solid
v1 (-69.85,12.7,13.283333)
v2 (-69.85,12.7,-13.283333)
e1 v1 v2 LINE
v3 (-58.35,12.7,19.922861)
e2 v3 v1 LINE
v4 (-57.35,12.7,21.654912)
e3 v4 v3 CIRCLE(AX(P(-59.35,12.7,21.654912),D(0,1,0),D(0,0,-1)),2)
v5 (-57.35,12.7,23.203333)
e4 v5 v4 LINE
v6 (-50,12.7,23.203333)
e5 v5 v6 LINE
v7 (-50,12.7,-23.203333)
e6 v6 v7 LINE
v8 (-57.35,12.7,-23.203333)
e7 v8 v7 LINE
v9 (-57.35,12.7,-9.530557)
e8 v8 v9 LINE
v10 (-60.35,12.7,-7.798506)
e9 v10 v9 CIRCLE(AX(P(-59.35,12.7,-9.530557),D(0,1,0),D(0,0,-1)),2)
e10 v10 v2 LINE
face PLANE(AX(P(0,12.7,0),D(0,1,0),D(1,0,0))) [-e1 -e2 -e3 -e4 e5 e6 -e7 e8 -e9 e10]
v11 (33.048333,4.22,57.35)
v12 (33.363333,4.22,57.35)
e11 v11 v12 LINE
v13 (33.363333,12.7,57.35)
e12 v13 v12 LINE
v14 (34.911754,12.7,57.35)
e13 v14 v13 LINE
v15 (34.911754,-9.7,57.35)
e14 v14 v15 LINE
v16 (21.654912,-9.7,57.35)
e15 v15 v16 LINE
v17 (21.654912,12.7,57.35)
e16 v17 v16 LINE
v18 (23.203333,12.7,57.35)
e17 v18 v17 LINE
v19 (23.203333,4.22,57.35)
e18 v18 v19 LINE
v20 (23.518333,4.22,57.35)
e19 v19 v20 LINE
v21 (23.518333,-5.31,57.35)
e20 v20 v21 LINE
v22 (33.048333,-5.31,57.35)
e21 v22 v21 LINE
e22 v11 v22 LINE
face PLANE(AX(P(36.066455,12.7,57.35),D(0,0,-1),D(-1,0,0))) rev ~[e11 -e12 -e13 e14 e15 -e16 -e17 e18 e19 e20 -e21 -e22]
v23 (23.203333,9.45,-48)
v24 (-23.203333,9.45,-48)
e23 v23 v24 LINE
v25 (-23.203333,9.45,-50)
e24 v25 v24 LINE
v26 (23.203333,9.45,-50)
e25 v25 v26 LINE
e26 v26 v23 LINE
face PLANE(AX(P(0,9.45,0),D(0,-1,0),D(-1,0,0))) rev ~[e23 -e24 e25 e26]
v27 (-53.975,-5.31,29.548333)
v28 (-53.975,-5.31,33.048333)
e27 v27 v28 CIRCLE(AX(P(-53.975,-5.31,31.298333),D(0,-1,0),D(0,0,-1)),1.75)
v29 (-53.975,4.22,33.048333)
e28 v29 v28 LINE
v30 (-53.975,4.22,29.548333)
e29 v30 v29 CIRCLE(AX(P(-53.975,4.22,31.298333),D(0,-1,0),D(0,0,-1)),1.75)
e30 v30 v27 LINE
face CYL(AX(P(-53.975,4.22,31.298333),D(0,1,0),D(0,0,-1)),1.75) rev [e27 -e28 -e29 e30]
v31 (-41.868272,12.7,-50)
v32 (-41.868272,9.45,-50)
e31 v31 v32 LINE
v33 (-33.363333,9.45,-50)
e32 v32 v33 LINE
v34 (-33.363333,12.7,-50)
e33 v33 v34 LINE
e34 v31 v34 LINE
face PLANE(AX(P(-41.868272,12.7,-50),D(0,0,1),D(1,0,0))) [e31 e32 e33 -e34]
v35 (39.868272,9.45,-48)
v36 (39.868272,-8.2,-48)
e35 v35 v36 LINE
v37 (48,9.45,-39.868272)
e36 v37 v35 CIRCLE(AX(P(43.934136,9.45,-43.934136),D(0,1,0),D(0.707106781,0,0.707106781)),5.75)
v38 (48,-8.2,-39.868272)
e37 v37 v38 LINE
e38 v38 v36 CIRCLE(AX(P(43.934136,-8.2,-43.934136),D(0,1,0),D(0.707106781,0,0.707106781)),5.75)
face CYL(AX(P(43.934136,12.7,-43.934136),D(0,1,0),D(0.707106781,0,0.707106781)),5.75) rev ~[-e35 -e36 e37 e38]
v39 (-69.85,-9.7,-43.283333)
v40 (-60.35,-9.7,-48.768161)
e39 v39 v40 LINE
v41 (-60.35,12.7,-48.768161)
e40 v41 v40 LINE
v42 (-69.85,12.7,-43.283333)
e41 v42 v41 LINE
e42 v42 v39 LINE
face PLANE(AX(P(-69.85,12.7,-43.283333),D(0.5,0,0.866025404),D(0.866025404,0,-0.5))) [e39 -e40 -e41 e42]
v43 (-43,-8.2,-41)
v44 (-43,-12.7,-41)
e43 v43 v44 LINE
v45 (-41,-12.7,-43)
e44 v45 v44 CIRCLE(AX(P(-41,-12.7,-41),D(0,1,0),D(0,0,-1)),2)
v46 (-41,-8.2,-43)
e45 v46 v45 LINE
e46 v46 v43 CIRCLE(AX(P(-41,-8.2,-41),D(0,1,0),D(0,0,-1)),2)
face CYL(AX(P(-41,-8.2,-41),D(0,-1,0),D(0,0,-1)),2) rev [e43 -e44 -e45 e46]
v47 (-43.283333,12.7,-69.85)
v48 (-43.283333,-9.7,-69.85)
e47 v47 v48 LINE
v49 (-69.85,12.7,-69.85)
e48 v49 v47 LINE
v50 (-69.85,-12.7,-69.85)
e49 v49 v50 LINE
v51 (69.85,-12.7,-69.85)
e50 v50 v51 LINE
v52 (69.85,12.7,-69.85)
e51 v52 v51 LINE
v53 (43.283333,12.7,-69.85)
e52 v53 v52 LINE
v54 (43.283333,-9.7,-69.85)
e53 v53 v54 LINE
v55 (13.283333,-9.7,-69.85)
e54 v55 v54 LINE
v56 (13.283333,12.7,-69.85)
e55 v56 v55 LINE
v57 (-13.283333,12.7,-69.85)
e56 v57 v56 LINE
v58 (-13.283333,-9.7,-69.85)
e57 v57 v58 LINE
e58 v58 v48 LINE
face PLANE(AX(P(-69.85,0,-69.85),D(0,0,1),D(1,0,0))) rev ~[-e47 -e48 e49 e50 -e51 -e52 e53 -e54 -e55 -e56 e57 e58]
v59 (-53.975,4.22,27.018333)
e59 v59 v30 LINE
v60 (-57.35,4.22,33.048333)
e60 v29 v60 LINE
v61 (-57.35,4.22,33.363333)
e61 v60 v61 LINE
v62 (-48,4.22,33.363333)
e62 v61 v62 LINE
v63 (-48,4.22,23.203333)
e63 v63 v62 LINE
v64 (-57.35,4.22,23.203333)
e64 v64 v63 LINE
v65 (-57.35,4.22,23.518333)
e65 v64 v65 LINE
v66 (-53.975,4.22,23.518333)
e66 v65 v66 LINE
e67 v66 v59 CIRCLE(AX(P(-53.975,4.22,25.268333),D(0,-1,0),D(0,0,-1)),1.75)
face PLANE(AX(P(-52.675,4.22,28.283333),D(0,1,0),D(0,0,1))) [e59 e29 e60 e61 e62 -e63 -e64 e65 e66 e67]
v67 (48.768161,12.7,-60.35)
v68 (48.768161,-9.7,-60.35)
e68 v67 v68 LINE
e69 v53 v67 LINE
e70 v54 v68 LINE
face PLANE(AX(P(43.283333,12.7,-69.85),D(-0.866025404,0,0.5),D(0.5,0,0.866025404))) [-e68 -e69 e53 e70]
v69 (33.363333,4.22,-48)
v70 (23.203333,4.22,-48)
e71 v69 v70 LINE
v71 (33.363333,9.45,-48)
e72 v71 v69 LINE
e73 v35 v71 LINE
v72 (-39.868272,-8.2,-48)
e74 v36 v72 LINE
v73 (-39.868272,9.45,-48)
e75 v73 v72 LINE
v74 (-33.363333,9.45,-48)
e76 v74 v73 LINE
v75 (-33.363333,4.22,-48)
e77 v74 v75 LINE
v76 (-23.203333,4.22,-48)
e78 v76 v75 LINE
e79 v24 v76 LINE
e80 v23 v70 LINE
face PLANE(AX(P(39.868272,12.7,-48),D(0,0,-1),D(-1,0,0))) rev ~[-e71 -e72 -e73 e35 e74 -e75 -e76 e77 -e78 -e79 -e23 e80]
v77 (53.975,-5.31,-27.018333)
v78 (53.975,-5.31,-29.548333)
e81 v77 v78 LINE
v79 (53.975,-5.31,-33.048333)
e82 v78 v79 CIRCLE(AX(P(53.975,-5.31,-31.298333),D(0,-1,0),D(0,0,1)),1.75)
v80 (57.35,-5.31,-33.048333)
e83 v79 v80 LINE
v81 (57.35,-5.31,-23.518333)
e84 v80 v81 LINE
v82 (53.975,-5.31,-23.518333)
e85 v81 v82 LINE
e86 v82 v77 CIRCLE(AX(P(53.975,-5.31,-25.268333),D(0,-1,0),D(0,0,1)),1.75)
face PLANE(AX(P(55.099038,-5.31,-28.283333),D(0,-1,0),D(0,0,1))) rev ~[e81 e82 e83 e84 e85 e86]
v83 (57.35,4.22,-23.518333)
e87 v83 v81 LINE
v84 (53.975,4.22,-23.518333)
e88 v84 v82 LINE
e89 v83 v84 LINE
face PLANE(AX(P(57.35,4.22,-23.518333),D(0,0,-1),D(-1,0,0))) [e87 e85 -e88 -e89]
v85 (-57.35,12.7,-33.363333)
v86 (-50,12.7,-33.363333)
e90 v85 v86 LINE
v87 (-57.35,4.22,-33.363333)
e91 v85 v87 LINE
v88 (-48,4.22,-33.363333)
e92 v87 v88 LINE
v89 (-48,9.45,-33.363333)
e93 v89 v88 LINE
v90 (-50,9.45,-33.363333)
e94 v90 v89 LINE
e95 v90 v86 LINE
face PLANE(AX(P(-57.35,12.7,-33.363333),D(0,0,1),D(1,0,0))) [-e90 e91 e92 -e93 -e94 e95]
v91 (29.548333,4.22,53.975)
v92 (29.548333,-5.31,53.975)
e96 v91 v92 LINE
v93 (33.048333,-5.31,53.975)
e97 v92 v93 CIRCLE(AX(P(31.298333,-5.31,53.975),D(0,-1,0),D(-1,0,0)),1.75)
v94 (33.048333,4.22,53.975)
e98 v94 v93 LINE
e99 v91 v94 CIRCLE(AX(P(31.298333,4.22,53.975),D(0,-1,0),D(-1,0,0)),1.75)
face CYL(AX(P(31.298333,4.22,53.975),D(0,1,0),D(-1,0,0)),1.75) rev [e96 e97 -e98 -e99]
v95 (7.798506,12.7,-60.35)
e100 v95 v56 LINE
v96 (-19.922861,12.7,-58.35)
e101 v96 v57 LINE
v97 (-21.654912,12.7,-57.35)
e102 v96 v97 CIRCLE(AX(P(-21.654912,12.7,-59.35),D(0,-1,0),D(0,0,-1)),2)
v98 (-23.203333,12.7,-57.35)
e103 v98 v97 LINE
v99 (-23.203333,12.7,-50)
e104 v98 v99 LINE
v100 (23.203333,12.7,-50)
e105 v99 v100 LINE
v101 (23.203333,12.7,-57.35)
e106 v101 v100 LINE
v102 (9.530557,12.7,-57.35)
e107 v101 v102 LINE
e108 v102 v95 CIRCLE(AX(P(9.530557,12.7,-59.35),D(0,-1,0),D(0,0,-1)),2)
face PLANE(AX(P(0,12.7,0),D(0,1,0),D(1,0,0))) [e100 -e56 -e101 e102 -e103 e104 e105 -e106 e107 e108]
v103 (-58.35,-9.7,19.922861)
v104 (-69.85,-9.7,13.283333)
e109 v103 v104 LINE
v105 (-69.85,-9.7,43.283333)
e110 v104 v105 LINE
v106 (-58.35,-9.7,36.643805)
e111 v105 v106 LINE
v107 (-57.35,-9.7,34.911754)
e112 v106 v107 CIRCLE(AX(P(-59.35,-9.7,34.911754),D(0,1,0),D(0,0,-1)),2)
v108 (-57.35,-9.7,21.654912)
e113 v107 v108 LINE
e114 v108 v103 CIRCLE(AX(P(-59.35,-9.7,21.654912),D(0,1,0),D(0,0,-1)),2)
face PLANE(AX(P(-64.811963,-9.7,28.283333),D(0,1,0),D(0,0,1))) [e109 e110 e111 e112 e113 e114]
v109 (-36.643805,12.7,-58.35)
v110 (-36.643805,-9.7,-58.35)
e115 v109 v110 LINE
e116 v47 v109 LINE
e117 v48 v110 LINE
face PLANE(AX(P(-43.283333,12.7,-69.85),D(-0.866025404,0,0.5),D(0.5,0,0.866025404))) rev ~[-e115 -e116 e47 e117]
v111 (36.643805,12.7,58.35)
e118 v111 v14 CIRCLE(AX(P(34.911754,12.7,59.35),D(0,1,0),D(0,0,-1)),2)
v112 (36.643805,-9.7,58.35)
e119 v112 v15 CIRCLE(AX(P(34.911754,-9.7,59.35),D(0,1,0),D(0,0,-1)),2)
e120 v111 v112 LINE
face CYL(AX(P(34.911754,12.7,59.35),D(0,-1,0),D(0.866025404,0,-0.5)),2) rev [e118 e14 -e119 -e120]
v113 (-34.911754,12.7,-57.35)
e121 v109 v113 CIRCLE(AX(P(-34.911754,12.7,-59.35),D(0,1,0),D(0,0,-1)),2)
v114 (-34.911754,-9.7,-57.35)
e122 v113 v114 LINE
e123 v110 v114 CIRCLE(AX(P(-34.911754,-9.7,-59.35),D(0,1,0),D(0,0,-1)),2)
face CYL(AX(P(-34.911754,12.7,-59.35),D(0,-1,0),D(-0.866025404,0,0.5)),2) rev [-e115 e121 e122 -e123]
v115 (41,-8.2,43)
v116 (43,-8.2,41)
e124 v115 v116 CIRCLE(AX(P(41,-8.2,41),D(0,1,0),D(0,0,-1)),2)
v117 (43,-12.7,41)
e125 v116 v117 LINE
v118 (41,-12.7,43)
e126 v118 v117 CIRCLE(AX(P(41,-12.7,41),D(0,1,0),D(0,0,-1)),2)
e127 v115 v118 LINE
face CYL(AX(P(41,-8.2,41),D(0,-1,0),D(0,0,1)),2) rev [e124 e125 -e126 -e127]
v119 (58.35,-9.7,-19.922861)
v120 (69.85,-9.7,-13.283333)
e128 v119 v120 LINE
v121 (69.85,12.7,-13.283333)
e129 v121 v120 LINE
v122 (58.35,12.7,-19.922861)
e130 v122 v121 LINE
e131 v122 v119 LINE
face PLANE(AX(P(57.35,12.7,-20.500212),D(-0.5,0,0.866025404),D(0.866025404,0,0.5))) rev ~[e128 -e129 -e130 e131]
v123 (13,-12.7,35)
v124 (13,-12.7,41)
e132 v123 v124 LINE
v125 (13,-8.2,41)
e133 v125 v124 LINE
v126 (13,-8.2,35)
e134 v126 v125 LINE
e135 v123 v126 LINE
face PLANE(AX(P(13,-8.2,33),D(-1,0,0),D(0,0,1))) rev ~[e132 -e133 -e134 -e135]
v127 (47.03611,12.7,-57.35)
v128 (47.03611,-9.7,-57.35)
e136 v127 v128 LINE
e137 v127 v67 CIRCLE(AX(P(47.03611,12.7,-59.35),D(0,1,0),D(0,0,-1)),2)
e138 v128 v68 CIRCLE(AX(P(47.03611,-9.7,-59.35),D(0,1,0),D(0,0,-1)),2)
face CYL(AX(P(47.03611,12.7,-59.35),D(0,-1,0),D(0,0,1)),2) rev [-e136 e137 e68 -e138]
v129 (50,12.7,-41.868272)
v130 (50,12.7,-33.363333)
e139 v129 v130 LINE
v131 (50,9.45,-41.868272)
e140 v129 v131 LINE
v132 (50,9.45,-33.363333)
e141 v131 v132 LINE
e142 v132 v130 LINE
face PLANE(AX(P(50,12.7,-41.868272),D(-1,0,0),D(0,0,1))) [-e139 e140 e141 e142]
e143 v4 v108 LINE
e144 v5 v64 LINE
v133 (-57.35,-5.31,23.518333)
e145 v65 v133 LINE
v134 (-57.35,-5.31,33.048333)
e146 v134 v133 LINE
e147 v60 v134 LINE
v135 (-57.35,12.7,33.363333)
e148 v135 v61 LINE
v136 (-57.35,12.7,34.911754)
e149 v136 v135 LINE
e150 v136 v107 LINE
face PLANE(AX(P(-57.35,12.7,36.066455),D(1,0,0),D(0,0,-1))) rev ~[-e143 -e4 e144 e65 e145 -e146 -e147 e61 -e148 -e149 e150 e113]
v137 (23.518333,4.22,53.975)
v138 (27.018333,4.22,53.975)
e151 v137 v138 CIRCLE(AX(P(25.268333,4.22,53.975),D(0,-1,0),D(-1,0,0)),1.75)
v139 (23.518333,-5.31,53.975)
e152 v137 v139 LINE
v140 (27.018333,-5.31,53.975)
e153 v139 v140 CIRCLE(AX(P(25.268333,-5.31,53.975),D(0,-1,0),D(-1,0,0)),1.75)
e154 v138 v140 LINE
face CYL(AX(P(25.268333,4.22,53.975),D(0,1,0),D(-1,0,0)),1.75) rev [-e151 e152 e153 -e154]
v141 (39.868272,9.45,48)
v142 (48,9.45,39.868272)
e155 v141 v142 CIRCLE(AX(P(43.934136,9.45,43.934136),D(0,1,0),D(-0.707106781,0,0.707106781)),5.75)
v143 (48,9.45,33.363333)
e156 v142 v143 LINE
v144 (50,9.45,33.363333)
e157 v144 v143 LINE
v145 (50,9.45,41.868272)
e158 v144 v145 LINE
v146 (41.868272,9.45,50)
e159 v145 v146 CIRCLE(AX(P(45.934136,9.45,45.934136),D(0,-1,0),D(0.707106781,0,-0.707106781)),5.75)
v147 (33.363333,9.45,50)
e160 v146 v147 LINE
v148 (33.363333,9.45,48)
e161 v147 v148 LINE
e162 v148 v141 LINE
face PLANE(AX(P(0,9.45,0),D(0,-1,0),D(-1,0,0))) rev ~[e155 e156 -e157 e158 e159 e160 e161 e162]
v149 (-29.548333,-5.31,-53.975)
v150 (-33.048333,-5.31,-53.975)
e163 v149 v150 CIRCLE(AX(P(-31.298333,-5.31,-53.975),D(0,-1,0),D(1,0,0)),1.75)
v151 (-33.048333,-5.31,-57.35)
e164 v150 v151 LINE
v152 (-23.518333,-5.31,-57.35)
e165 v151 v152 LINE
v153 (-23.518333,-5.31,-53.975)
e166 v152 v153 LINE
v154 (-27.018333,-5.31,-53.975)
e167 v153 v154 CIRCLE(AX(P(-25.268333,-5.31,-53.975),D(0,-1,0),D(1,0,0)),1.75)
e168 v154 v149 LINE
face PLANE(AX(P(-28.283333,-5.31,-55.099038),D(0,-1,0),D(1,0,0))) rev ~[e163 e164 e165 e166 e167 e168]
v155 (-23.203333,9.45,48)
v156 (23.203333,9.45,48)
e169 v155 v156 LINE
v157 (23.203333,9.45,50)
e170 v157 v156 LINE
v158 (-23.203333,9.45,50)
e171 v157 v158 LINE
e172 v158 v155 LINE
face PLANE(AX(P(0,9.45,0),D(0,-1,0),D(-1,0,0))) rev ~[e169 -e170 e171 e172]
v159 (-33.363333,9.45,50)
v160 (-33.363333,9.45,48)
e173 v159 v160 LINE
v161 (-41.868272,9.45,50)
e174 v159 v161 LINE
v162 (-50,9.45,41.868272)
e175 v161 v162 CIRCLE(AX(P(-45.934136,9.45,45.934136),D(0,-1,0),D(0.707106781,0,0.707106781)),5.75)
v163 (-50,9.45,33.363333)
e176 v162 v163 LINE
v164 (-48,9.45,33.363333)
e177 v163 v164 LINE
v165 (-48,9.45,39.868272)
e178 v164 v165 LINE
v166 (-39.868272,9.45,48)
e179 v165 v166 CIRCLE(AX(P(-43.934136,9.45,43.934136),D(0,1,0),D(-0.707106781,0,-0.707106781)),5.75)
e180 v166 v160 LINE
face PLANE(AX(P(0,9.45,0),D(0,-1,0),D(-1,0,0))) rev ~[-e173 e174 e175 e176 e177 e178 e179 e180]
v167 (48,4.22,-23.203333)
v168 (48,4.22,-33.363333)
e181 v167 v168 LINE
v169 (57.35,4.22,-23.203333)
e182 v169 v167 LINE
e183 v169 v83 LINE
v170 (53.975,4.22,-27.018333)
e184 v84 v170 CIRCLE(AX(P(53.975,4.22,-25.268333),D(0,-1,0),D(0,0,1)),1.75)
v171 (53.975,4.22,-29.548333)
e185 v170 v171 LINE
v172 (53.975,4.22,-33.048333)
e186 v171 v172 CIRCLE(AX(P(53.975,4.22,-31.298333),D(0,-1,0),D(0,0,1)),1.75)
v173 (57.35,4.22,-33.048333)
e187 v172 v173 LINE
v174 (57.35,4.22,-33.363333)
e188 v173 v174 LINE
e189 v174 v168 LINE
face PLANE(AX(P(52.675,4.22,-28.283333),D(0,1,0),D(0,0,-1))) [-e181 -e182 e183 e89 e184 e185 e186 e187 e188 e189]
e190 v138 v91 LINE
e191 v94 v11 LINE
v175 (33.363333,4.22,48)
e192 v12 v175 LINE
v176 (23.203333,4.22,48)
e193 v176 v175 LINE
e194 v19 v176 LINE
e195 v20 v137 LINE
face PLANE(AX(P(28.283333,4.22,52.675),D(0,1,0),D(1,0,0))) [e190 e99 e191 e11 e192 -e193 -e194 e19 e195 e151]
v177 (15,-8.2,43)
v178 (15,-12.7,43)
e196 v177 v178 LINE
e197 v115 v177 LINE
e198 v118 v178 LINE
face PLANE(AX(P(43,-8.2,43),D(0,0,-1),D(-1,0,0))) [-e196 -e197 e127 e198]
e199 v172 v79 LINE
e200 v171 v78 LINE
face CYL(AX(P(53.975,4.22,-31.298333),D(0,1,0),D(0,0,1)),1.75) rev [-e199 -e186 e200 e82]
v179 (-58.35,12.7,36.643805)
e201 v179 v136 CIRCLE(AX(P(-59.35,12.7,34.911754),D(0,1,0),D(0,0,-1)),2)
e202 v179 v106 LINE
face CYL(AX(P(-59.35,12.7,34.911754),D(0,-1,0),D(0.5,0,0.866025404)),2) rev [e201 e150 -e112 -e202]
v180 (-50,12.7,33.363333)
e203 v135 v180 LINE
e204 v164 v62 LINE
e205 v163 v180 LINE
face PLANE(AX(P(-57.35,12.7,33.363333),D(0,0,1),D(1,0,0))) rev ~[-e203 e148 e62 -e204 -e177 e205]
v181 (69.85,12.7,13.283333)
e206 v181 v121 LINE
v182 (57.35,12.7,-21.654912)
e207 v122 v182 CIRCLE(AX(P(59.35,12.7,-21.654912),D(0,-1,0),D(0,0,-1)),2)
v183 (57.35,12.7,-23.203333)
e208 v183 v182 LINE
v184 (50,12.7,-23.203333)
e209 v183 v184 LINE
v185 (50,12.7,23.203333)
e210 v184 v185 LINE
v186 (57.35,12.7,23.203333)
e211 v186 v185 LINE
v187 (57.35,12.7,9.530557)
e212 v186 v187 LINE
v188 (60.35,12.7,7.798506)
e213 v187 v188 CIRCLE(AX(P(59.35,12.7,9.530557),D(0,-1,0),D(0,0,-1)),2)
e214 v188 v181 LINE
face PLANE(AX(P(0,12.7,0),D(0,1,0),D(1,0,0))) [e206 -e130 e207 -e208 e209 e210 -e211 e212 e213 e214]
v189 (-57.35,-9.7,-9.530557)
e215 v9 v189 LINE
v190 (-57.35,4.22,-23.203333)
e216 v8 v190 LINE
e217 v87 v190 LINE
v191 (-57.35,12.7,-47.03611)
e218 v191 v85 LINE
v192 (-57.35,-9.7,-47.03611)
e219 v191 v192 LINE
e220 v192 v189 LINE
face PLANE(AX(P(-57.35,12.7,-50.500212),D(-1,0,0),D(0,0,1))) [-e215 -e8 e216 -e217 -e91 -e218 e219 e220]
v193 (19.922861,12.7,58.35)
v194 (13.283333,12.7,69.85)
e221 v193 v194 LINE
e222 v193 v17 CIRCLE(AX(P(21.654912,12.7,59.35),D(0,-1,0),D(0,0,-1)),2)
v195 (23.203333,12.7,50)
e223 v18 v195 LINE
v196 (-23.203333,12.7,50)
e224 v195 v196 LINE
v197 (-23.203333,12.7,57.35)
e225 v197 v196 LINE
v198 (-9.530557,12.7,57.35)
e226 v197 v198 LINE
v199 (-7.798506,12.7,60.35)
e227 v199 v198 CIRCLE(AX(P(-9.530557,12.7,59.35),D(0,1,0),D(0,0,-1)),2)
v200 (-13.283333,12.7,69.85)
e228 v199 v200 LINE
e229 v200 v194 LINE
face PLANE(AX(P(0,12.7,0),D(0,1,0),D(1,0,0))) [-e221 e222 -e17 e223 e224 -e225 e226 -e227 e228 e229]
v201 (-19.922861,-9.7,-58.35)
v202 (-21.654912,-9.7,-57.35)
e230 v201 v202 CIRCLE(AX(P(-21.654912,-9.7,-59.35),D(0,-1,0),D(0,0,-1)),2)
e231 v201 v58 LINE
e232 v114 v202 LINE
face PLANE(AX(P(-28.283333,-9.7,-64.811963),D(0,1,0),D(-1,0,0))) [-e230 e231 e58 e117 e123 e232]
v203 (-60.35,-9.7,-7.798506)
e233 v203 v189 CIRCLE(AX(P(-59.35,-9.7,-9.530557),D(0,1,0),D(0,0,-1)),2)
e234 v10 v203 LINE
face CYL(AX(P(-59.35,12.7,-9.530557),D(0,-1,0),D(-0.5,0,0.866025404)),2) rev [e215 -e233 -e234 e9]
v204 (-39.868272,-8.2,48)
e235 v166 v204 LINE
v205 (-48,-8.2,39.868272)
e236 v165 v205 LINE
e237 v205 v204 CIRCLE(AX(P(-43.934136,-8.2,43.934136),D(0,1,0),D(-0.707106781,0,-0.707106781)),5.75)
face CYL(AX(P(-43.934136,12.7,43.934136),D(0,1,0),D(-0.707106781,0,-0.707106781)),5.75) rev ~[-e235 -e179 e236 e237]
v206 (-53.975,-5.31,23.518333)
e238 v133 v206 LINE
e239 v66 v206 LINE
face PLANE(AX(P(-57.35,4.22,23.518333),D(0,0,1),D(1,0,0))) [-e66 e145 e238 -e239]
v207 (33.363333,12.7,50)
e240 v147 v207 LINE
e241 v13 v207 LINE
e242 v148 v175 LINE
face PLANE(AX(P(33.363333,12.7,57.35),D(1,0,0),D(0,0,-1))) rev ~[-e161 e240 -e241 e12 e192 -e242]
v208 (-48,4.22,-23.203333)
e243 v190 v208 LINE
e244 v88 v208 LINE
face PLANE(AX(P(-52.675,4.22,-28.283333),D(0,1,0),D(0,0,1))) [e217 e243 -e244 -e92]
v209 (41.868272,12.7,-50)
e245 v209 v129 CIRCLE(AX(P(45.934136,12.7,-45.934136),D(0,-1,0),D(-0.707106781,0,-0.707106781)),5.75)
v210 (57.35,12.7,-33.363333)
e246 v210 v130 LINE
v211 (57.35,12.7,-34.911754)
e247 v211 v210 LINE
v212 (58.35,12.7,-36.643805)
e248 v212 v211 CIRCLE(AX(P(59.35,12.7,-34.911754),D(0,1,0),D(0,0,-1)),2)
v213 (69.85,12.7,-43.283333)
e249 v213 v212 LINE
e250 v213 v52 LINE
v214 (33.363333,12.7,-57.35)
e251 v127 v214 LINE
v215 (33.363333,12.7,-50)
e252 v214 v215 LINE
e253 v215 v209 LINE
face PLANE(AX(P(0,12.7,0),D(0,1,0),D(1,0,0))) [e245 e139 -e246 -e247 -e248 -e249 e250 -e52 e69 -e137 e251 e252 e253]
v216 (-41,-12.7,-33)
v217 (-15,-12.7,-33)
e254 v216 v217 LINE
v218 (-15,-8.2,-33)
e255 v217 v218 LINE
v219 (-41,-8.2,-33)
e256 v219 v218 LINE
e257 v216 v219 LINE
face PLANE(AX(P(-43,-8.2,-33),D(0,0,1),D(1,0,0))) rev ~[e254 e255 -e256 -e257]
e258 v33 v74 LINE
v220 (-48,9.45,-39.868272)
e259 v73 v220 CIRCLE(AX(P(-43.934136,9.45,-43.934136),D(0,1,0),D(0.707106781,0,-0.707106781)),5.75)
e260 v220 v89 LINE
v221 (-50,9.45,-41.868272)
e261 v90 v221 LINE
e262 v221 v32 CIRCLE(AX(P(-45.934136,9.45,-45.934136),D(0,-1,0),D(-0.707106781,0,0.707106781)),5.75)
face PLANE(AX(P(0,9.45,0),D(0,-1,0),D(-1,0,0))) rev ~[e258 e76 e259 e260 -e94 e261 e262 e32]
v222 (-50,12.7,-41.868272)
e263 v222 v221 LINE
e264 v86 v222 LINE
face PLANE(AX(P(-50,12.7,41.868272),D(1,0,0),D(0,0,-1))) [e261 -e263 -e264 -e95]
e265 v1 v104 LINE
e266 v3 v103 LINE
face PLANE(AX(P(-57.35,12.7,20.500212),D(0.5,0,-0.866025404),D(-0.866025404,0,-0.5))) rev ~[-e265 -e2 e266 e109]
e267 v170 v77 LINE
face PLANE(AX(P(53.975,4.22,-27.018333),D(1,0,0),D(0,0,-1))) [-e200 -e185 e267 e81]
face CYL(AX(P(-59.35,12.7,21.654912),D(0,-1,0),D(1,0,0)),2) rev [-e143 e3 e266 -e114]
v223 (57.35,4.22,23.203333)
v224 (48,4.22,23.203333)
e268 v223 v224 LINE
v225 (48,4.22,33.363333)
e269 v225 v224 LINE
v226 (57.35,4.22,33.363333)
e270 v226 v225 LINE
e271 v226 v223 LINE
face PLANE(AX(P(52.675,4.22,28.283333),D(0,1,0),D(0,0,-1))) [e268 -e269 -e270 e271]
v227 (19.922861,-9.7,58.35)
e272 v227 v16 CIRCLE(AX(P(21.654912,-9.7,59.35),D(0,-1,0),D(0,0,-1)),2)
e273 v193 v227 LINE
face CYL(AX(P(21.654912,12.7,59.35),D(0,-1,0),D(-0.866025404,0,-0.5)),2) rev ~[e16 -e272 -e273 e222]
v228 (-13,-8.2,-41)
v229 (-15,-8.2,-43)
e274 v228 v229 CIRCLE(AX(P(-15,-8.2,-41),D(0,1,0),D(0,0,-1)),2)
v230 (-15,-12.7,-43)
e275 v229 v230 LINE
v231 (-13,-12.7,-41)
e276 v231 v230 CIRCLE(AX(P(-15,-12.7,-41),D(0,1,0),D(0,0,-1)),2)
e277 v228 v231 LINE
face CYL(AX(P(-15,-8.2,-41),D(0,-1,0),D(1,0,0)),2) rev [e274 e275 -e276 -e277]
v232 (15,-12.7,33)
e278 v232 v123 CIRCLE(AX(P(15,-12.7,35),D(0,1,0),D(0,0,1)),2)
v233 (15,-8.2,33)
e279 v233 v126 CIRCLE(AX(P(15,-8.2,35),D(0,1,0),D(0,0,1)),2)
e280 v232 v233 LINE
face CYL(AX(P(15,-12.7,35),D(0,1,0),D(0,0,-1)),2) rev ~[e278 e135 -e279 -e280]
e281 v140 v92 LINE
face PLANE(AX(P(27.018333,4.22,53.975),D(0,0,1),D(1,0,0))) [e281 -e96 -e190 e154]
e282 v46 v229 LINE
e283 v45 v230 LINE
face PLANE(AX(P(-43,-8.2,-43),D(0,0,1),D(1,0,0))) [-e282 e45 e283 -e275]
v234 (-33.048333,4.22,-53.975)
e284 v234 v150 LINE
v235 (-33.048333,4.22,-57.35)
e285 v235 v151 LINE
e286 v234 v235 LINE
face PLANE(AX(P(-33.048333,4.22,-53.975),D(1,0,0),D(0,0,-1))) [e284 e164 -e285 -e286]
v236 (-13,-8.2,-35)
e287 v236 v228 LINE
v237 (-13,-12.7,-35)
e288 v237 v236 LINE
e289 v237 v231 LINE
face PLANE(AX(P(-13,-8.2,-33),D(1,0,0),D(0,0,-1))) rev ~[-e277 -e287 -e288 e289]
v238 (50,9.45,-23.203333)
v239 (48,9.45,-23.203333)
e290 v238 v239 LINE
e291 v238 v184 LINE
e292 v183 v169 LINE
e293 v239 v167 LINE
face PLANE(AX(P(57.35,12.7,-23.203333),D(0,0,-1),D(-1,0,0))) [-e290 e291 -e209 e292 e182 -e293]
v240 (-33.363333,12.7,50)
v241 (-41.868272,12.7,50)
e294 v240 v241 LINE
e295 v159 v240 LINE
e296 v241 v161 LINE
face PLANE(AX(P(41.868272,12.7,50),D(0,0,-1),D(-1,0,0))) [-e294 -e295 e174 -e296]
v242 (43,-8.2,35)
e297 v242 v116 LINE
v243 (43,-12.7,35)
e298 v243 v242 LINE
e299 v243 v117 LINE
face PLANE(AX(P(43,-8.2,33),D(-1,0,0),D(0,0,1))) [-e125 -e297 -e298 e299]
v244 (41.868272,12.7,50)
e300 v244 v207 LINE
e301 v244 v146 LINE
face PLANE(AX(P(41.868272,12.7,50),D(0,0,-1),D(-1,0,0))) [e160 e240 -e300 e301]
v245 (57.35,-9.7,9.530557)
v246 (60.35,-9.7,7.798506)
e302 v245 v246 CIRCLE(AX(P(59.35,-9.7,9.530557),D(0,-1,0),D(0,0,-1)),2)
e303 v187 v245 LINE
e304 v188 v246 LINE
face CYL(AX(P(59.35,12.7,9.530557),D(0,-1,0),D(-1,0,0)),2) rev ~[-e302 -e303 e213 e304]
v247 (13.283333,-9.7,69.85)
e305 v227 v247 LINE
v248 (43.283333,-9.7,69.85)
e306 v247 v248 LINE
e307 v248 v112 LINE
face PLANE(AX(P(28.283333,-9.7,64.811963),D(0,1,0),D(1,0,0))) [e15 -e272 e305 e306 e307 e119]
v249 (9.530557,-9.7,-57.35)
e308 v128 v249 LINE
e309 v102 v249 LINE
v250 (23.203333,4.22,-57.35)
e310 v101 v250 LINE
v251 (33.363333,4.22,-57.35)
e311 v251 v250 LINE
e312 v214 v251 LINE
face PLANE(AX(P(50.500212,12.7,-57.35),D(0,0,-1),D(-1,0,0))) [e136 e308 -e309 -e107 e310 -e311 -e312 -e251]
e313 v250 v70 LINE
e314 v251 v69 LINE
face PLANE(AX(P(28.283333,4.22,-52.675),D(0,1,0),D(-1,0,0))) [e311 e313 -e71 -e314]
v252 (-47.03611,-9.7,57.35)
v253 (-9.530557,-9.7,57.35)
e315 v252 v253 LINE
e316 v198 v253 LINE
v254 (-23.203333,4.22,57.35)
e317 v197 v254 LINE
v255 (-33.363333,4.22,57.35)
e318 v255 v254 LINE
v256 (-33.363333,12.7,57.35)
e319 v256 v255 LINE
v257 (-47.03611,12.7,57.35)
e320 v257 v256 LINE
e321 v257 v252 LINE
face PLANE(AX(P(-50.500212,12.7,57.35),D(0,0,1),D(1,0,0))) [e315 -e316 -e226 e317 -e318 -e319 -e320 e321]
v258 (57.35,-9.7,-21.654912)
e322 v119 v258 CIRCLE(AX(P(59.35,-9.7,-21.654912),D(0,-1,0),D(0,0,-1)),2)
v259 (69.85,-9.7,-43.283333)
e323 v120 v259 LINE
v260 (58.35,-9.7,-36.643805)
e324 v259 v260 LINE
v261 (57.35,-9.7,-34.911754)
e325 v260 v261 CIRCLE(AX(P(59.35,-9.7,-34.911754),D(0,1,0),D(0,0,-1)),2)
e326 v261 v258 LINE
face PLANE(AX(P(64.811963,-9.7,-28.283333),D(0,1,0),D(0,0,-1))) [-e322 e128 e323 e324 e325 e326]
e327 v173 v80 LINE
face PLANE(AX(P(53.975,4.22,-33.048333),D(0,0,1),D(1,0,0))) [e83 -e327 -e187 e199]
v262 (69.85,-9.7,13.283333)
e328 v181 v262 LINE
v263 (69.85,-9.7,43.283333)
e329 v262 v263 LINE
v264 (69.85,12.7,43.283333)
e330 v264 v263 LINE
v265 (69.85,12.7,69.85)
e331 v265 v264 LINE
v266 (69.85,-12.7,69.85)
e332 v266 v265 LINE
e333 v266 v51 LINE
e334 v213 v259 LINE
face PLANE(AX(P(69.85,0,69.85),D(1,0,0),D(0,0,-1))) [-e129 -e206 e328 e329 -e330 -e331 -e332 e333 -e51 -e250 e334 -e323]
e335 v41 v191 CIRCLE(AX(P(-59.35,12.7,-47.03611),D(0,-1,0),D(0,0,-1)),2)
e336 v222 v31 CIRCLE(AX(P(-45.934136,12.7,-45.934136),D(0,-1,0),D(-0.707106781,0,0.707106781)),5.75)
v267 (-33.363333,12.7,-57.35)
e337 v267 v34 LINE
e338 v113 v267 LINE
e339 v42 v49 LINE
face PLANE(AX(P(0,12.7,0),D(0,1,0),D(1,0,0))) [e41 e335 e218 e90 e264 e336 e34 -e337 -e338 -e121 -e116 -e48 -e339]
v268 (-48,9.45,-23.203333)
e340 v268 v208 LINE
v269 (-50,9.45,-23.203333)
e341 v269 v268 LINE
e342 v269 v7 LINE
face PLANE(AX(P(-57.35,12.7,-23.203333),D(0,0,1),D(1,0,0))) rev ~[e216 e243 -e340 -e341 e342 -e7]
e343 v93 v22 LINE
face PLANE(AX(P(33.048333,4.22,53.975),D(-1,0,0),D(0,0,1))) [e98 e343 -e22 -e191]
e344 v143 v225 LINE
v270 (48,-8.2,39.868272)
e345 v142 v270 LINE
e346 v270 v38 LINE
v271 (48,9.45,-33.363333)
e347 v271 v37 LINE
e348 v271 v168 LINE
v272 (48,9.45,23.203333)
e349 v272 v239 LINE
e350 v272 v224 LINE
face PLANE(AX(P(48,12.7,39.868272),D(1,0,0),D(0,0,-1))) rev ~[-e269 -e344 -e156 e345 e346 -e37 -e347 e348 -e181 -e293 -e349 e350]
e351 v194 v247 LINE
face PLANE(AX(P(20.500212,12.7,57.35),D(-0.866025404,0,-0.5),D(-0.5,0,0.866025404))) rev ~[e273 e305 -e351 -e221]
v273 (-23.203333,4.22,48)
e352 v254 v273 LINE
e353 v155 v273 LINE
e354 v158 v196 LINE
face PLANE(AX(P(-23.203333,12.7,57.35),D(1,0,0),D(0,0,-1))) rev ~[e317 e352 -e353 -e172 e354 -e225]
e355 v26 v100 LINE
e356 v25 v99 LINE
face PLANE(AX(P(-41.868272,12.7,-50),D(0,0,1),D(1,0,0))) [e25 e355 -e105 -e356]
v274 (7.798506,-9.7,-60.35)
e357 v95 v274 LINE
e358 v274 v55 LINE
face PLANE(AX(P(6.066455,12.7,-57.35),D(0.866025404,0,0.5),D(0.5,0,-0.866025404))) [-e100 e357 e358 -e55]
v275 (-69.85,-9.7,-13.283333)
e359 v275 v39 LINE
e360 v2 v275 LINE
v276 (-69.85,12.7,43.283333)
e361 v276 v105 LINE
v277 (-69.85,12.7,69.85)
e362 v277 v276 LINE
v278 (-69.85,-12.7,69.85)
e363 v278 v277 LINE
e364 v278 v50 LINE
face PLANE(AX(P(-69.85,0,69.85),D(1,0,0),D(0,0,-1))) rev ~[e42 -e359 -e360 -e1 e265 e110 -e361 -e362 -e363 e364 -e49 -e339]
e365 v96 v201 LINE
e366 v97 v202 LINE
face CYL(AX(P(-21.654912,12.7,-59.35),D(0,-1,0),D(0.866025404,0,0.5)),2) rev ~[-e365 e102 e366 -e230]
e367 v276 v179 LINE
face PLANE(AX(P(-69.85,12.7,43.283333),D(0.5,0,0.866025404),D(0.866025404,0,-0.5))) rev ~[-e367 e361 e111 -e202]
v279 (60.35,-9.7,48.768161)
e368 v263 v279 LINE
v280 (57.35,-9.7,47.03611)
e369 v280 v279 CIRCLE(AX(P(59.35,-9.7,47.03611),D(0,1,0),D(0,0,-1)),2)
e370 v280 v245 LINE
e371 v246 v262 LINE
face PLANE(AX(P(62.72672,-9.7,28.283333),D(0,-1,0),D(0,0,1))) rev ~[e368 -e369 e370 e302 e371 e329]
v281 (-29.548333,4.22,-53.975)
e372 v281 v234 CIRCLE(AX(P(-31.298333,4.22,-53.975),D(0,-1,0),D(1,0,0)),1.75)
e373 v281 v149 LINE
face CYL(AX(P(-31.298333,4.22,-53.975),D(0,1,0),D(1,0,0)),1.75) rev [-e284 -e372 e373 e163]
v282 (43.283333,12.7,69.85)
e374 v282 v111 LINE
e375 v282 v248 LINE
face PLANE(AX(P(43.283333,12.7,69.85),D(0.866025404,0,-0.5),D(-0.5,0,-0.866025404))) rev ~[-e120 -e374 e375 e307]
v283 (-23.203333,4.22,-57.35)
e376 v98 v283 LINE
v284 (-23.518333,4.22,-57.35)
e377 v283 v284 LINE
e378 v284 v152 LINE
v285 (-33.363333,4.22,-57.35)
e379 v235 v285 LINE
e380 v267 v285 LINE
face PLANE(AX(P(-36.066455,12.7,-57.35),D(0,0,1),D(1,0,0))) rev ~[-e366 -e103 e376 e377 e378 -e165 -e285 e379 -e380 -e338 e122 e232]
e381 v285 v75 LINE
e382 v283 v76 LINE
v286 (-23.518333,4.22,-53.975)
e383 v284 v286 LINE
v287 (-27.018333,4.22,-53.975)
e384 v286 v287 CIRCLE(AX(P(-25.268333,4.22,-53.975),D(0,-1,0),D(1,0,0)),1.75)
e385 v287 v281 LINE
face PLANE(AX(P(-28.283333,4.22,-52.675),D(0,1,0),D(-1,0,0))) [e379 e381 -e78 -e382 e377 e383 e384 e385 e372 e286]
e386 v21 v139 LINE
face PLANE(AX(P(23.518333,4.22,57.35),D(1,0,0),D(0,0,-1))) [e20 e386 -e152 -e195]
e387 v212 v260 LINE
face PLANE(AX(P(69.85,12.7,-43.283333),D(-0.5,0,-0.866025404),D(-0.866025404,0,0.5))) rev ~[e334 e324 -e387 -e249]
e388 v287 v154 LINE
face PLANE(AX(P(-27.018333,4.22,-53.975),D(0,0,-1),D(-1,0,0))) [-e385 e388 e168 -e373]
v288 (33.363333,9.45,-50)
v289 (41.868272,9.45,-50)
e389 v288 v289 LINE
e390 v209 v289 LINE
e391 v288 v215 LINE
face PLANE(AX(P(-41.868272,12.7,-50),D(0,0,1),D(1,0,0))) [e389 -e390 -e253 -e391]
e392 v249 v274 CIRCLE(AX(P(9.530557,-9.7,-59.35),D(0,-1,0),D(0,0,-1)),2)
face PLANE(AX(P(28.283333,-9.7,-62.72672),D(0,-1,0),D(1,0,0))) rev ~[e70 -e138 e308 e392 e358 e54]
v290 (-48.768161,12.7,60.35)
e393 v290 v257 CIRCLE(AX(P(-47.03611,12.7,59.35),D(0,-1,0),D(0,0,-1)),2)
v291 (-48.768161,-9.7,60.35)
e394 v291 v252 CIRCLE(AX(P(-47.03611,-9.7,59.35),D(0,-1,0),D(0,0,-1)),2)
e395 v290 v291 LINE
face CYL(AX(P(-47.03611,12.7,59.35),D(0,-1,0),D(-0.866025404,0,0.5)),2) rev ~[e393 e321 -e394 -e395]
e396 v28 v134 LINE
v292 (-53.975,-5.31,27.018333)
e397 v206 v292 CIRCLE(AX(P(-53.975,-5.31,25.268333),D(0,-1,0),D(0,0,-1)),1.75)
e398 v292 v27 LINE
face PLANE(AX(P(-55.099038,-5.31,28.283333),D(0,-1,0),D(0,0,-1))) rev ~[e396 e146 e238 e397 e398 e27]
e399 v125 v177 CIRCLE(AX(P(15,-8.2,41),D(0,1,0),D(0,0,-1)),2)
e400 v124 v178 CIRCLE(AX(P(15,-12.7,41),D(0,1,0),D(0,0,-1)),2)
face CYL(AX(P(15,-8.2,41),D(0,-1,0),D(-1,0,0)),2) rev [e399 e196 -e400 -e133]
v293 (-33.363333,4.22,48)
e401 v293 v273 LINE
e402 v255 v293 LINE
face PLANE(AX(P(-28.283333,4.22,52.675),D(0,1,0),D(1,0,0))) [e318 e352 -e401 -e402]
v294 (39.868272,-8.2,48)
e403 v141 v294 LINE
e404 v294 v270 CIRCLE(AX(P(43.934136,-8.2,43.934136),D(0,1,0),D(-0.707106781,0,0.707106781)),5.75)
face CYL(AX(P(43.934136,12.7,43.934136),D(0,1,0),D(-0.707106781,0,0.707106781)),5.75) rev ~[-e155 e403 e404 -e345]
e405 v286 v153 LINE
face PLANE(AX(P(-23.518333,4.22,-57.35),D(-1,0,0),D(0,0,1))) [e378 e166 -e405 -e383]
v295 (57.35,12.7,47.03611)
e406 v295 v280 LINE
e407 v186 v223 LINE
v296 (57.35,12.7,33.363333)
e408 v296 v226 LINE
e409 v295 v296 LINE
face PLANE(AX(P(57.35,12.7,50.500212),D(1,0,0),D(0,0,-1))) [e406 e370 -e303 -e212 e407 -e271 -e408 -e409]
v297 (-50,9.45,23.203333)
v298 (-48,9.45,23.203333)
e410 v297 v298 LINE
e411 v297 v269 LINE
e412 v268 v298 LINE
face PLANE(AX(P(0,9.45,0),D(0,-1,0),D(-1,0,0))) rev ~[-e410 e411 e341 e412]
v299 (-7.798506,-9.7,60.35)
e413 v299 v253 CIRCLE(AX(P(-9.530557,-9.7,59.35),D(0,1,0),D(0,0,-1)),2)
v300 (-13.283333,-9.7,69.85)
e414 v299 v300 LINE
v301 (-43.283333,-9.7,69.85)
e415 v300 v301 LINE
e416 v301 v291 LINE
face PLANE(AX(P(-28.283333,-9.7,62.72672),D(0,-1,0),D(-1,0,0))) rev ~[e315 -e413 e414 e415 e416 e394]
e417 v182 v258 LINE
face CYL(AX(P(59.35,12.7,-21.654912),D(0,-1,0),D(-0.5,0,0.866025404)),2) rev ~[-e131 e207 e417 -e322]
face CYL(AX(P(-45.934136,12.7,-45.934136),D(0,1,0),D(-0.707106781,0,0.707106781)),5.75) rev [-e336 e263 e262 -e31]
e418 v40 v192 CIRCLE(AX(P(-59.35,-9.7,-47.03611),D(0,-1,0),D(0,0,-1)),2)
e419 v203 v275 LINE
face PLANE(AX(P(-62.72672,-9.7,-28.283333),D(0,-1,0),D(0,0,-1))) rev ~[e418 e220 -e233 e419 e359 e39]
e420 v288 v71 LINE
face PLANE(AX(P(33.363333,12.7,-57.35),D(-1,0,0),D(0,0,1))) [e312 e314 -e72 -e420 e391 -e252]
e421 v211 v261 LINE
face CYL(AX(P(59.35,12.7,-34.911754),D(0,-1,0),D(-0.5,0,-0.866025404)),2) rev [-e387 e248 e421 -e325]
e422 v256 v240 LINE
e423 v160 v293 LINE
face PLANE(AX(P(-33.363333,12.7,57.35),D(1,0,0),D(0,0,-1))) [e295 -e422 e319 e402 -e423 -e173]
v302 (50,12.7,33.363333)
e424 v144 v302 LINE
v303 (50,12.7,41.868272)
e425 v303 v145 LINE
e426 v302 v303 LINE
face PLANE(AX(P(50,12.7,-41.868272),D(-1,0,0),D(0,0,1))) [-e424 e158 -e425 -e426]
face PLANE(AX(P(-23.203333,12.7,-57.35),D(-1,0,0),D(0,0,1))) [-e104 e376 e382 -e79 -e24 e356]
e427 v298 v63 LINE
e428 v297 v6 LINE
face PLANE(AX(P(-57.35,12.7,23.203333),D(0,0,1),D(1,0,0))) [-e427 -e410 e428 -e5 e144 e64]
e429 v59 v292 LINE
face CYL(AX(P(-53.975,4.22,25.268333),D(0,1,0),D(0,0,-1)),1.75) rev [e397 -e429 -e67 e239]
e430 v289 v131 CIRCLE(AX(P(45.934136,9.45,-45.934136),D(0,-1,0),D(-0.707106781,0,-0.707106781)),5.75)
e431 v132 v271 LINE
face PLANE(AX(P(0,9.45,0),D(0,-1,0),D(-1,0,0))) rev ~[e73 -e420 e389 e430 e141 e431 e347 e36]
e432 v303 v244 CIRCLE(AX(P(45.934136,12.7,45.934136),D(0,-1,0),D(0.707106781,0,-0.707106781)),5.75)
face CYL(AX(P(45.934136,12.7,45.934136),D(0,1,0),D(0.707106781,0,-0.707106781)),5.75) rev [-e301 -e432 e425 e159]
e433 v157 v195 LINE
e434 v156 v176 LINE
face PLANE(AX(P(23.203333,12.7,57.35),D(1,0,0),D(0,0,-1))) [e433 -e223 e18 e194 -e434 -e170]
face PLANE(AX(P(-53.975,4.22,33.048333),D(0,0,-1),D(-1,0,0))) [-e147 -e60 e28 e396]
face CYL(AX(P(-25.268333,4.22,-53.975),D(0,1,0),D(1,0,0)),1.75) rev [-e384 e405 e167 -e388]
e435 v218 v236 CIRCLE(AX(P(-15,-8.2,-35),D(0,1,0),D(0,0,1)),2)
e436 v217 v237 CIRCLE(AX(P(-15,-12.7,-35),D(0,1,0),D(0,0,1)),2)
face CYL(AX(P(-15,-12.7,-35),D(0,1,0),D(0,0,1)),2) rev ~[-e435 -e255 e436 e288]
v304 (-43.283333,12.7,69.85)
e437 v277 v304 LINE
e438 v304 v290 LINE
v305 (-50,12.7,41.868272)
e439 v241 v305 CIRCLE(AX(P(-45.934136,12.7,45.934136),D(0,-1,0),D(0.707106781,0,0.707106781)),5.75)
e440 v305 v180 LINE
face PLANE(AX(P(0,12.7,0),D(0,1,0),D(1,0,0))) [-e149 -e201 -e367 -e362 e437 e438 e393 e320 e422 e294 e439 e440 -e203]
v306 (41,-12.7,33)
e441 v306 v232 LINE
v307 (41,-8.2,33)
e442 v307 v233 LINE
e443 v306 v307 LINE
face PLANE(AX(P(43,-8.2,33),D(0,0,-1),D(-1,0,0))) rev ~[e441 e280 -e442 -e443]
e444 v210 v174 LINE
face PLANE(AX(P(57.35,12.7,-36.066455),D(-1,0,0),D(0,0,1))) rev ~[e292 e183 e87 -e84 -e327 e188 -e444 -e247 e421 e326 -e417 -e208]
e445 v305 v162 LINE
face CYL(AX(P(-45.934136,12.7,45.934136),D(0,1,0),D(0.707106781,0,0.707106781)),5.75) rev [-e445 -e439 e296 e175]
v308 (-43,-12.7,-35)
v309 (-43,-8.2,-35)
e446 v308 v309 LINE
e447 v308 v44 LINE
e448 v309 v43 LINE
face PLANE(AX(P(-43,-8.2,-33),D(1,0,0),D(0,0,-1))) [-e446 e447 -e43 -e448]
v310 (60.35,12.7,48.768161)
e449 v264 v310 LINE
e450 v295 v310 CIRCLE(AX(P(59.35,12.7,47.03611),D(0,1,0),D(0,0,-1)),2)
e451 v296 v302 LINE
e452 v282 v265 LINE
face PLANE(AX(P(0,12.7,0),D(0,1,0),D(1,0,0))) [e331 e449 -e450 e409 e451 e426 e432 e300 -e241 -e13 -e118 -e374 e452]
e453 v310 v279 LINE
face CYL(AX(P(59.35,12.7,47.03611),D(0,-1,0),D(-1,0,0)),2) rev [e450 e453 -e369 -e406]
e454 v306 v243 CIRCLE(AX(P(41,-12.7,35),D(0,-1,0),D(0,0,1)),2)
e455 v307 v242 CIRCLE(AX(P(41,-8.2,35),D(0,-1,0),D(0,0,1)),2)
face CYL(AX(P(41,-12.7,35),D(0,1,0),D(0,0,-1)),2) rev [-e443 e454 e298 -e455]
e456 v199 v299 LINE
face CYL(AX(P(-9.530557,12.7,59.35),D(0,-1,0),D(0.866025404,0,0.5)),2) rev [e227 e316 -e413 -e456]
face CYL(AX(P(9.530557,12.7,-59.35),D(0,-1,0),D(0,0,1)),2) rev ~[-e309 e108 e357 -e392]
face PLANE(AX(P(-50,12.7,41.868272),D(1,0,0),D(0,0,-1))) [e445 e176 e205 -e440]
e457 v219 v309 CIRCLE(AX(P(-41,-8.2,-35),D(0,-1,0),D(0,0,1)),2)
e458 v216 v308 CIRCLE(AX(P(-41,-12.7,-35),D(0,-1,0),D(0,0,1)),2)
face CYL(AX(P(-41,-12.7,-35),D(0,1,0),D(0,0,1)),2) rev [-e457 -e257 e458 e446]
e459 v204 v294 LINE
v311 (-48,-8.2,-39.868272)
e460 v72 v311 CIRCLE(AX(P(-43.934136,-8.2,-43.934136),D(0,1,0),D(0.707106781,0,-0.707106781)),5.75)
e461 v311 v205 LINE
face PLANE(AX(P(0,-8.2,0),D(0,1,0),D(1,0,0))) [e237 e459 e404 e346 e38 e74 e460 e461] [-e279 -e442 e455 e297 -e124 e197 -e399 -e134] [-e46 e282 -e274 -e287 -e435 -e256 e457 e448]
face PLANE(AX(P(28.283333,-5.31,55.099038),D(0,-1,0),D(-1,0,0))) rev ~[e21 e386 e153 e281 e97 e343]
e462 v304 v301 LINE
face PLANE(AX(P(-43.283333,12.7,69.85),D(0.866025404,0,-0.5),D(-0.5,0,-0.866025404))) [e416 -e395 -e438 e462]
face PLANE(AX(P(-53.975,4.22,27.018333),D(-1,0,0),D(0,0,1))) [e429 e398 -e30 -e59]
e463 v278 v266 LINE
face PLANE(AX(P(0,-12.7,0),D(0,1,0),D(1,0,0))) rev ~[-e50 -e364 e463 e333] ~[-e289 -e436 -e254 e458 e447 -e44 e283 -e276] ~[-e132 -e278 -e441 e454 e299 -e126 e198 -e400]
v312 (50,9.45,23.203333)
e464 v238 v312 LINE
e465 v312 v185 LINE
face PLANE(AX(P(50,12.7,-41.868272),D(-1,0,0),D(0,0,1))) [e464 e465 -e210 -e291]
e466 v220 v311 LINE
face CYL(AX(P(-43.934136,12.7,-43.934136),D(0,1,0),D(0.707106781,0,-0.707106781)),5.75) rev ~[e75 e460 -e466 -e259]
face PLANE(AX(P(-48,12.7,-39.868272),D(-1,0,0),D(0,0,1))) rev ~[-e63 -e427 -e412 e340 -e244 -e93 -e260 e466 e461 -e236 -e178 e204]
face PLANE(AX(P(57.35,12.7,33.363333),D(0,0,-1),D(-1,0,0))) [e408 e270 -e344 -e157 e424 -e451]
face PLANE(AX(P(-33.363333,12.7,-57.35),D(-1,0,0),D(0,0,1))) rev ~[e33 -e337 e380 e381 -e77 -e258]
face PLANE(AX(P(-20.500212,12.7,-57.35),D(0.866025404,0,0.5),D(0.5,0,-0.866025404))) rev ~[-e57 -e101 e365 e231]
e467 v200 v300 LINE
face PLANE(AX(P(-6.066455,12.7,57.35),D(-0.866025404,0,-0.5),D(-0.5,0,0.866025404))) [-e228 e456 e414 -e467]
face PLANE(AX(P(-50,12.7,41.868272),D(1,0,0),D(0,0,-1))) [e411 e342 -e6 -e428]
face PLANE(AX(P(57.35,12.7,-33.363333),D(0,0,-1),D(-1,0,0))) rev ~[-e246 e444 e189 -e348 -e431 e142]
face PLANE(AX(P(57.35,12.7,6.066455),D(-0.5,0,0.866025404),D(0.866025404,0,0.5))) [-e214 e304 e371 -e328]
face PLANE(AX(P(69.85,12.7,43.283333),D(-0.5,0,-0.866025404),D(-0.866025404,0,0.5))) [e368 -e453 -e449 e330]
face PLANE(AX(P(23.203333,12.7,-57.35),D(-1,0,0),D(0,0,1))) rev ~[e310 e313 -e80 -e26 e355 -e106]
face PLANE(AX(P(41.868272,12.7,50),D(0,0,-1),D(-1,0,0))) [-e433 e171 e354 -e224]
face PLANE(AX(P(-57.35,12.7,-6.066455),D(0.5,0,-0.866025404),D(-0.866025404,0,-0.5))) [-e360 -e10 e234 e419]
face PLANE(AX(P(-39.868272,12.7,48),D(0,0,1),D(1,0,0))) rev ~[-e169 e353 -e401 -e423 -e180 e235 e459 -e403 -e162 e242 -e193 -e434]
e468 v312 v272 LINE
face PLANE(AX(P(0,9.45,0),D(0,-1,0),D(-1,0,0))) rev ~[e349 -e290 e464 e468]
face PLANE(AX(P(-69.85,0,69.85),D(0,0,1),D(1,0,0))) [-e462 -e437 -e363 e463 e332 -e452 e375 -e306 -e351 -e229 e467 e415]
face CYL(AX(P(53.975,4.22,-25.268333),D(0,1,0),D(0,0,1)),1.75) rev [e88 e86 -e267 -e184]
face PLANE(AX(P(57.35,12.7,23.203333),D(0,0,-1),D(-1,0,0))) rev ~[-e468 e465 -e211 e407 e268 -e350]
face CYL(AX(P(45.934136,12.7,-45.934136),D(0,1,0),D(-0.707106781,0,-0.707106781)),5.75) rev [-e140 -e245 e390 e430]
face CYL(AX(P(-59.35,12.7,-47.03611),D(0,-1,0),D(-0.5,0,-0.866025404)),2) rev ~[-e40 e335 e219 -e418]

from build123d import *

# Parameters (mm, degrees)
SKETCH1_W                          = 139.7
SKETCH1_H                          = 139.7
BOSS_EXTRUDE1_DEPTH                = 12.7
POWER_SUPPLY_COMPONENT_DEPTH_DEPTH = 20.9
CUT_EXTRUDE6_DEPTH                 = 22.4
SKETCH8_W                          = 10.16
SKETCH8_H                          = 9.35
CUT_EXTRUDE7_DEPTH                 = 8.48
CUT_EXTRUDE8_DEPTH                 = 9.53
FILLET2_R                          = 2
CIRPATTERN5_COUNT                  = 4
FILLET2_OF_CIRPATTERN5_R           = 2
CUT_EXTRUDE9_DEPTH                 = 3.25
SKETCH12_W                         = 30
SKETCH12_H                         = 10
CUT_EXTRUDE10_DEPTH                = 101.969574625
FILLET5_R                          = 2
CIRPATTERN6_COUNT                  = 2
FILLET5_OF_CIRPATTERN6_R           = 2


with BuildPart() as part:
    # Sketch1 → Boss-Extrude1 (new, symmetric)
    with BuildSketch(Plane(origin=(0, 0, 0), x_dir=(1, 0, 0), z_dir=(0, 1, 0))):
        Rectangle(SKETCH1_W, SKETCH1_H)
    extrude(amount=BOSS_EXTRUDE1_DEPTH, both=True)

    # Sketch6 → power_supply_component_depth (cut)
    with BuildSketch(Plane(origin=(0, 12.7, 0), x_dir=(1, 0, 0), z_dir=(0, 1, 0))):
        with BuildLine():
            Line((-48, 39.868272016), (-48, -39.868272016))
            ThreePointArc((-48, -39.868272016), (-48, -48), (-39.868272016, -48))
            Line((-39.868272016, -48), (39.868272016, -48))
            ThreePointArc((39.868272016, -48), (48, -48), (48, -39.868272016))
            Line((48, -39.868272016), (48, 39.868272016))
            ThreePointArc((48, 39.868272016), (48, 48), (39.868272016, 48))
            Line((39.868272016, 48), (-39.868272016, 48))
            ThreePointArc((-39.868272016, 48), (-48, 48), (-48, 39.868272016))
        make_face()
    extrude(amount=-POWER_SUPPLY_COMPONENT_DEPTH_DEPTH, mode=Mode.SUBTRACT)

    # Sketch4 → Cut-Extrude6 (cut)
    with BuildSketch(Plane(origin=(0, 12.7, 0), x_dir=(1, 0, 0), z_dir=(0, 1, 0))):
        Polygon((-43.283333333, -69.85), (-50.500211698, -57.35), (-6.066454968, -57.35), (-13.283333333, -69.85), align=None)
        Polygon((43.283333333, -69.85), (36.066454968, -57.35), (20.500211698, -57.35), (13.283333333, -69.85), align=None)
    cut_extrude6 = extrude(amount=-CUT_EXTRUDE6_DEPTH, mode=Mode.SUBTRACT)

    # Sketch8 → Cut-Extrude7 (cut)
    with BuildSketch(Plane(origin=(0, 12.7, 0), x_dir=(1, 0, 0), z_dir=(0, 1, 0))):
        with Locations((-28.283333333, -52.675)):
            Rectangle(SKETCH8_W, SKETCH8_H)
        with Locations((28.283333333, -52.675)):
            Rectangle(SKETCH8_W, SKETCH8_H)
    cut_extrude7 = extrude(amount=-CUT_EXTRUDE7_DEPTH, mode=Mode.SUBTRACT)

    # Sketch9 → Cut-Extrude8 (cut)
    with BuildSketch(Plane(origin=(0, 4.22, 0), x_dir=(1, 0, 0), z_dir=(0, 1, 0))):
        with BuildLine():
            Line((27.018333333, -53.975), (29.548333333, -53.975))
            ThreePointArc((29.548333333, -53.975), (31.298333333, -52.225), (33.048333333, -53.975))
            Line((33.048333333, -53.975), (33.048333333, -57.35))
            Line((33.048333333, -57.35), (23.518333333, -57.35))
            Line((23.518333333, -57.35), (23.518333333, -53.975))
            ThreePointArc((23.518333333, -53.975), (25.268333333, -52.225), (27.018333333, -53.975))
        make_face()
    cut_extrude8 = extrude(amount=-CUT_EXTRUDE8_DEPTH, mode=Mode.SUBTRACT)

    # Fillet2
    fillet2_edges = [part.edges().sort_by_distance(p)[0] for p in [
        (-6.066454968, 1.5, 57.35),
        (-50.500211698, 1.5, 57.35),
        (36.066454968, 1.5, 57.35),
        (20.500211698, 1.5, 57.35),
    ]]
    fillet(fillet2_edges, radius=FILLET2_R)

    # CirPattern5: Cut-Extrude6, Cut-Extrude7, Cut-Extrude8 ×4 about axis
    cirpattern5_axis = Axis((0, 0, 0), (0, 1, 0))
    add([cut_extrude6.rotate(cirpattern5_axis, i * 360 / CIRPATTERN5_COUNT) for i in range(1, CIRPATTERN5_COUNT)], mode=Mode.SUBTRACT)
    add([cut_extrude7.rotate(cirpattern5_axis, i * 360 / CIRPATTERN5_COUNT) for i in range(1, CIRPATTERN5_COUNT)], mode=Mode.SUBTRACT)
    add([cut_extrude8.rotate(cirpattern5_axis, i * 360 / CIRPATTERN5_COUNT) for i in range(1, CIRPATTERN5_COUNT)], mode=Mode.SUBTRACT)

    # Fillet2 of CirPattern5
    fillet2_of_cirpattern5_edges = [part.edges().sort_by_distance(p)[0] for p in [
        (57.35, 1.5, 6.066454968),
        (57.35, 1.5, 50.500211698),
        (57.35, 1.5, -36.066454968),
        (57.35, 1.5, -20.500211698),
        (6.066454968, 1.5, -57.35),
        (50.500211698, 1.5, -57.35),
        (-36.066454968, 1.5, -57.35),
        (-20.500211698, 1.5, -57.35),
        (-57.35, 1.5, -6.066454968),
        (-57.35, 1.5, -50.500211698),
        (-57.35, 1.5, 36.066454968),
        (-57.35, 1.5, 20.500211698),
    ]]
    fillet(fillet2_of_cirpattern5_edges, radius=FILLET2_OF_CIRPATTERN5_R)

    # Sketch10 → Cut-Extrude9 (cut)
    with BuildSketch(Plane(origin=(0, 12.7, 0), x_dir=(1, 0, 0), z_dir=(0, 1, 0))):
        with BuildLine():
            Line((-41.868272016, 50), (41.868272016, 50))
            ThreePointArc((41.868272016, 50), (50, 50), (50, 41.868272016))
            Line((50, 41.868272016), (50, -41.868272016))
            ThreePointArc((50, -41.868272016), (50, -50), (41.868272016, -50))
            Line((41.868272016, -50), (-41.868272016, -50))
            ThreePointArc((-41.868272016, -50), (-50, -50), (-50, -41.868272016))
            Line((-50, -41.868272016), (-50, 41.868272016))
            ThreePointArc((-50, 41.868272016), (-50, 50), (-41.868272016, 50))
        make_face()
    extrude(amount=-CUT_EXTRUDE9_DEPTH, mode=Mode.SUBTRACT)

    # Sketch12 → Cut-Extrude10 (cut, symmetric)
    with BuildSketch(Plane(origin=(0, -8.2, 0), x_dir=(1, 0, 0), z_dir=(0, 1, 0))):
        with Locations((-28, 38)):
            Rectangle(SKETCH12_W, SKETCH12_H)
    cut_extrude10 = extrude(amount=CUT_EXTRUDE10_DEPTH, both=True, mode=Mode.SUBTRACT)

    # Fillet5
    fillet5_edges = [part.edges().sort_by_distance(p)[0] for p in [
        (-43, -10.45, -33),
        (-43, -10.45, -43),
        (-13, -10.45, -43),
        (-13, -10.45, -33),
    ]]
    fillet(fillet5_edges, radius=FILLET5_R)

    # CirPattern6: Cut-Extrude10 ×2 about axis
    cirpattern6_axis = Axis((0, 0, 0), (0, 1, 0))
    for i in range(1, CIRPATTERN6_COUNT):
        add(cut_extrude10.rotate(cirpattern6_axis, i * 360 / CIRPATTERN6_COUNT), mode=Mode.SUBTRACT)

    # Fillet5 of CirPattern6
    fillet5_of_cirpattern6_edges = [part.edges().sort_by_distance(p)[0] for p in [
        (43, -10.45, 33),
        (43, -10.45, 43),
        (13, -10.45, 43),
        (13, -10.45, 33),
    ]]
    fillet(fillet5_of_cirpattern6_edges, radius=FILLET5_OF_CIRPATTERN6_R)


solid = part.part
